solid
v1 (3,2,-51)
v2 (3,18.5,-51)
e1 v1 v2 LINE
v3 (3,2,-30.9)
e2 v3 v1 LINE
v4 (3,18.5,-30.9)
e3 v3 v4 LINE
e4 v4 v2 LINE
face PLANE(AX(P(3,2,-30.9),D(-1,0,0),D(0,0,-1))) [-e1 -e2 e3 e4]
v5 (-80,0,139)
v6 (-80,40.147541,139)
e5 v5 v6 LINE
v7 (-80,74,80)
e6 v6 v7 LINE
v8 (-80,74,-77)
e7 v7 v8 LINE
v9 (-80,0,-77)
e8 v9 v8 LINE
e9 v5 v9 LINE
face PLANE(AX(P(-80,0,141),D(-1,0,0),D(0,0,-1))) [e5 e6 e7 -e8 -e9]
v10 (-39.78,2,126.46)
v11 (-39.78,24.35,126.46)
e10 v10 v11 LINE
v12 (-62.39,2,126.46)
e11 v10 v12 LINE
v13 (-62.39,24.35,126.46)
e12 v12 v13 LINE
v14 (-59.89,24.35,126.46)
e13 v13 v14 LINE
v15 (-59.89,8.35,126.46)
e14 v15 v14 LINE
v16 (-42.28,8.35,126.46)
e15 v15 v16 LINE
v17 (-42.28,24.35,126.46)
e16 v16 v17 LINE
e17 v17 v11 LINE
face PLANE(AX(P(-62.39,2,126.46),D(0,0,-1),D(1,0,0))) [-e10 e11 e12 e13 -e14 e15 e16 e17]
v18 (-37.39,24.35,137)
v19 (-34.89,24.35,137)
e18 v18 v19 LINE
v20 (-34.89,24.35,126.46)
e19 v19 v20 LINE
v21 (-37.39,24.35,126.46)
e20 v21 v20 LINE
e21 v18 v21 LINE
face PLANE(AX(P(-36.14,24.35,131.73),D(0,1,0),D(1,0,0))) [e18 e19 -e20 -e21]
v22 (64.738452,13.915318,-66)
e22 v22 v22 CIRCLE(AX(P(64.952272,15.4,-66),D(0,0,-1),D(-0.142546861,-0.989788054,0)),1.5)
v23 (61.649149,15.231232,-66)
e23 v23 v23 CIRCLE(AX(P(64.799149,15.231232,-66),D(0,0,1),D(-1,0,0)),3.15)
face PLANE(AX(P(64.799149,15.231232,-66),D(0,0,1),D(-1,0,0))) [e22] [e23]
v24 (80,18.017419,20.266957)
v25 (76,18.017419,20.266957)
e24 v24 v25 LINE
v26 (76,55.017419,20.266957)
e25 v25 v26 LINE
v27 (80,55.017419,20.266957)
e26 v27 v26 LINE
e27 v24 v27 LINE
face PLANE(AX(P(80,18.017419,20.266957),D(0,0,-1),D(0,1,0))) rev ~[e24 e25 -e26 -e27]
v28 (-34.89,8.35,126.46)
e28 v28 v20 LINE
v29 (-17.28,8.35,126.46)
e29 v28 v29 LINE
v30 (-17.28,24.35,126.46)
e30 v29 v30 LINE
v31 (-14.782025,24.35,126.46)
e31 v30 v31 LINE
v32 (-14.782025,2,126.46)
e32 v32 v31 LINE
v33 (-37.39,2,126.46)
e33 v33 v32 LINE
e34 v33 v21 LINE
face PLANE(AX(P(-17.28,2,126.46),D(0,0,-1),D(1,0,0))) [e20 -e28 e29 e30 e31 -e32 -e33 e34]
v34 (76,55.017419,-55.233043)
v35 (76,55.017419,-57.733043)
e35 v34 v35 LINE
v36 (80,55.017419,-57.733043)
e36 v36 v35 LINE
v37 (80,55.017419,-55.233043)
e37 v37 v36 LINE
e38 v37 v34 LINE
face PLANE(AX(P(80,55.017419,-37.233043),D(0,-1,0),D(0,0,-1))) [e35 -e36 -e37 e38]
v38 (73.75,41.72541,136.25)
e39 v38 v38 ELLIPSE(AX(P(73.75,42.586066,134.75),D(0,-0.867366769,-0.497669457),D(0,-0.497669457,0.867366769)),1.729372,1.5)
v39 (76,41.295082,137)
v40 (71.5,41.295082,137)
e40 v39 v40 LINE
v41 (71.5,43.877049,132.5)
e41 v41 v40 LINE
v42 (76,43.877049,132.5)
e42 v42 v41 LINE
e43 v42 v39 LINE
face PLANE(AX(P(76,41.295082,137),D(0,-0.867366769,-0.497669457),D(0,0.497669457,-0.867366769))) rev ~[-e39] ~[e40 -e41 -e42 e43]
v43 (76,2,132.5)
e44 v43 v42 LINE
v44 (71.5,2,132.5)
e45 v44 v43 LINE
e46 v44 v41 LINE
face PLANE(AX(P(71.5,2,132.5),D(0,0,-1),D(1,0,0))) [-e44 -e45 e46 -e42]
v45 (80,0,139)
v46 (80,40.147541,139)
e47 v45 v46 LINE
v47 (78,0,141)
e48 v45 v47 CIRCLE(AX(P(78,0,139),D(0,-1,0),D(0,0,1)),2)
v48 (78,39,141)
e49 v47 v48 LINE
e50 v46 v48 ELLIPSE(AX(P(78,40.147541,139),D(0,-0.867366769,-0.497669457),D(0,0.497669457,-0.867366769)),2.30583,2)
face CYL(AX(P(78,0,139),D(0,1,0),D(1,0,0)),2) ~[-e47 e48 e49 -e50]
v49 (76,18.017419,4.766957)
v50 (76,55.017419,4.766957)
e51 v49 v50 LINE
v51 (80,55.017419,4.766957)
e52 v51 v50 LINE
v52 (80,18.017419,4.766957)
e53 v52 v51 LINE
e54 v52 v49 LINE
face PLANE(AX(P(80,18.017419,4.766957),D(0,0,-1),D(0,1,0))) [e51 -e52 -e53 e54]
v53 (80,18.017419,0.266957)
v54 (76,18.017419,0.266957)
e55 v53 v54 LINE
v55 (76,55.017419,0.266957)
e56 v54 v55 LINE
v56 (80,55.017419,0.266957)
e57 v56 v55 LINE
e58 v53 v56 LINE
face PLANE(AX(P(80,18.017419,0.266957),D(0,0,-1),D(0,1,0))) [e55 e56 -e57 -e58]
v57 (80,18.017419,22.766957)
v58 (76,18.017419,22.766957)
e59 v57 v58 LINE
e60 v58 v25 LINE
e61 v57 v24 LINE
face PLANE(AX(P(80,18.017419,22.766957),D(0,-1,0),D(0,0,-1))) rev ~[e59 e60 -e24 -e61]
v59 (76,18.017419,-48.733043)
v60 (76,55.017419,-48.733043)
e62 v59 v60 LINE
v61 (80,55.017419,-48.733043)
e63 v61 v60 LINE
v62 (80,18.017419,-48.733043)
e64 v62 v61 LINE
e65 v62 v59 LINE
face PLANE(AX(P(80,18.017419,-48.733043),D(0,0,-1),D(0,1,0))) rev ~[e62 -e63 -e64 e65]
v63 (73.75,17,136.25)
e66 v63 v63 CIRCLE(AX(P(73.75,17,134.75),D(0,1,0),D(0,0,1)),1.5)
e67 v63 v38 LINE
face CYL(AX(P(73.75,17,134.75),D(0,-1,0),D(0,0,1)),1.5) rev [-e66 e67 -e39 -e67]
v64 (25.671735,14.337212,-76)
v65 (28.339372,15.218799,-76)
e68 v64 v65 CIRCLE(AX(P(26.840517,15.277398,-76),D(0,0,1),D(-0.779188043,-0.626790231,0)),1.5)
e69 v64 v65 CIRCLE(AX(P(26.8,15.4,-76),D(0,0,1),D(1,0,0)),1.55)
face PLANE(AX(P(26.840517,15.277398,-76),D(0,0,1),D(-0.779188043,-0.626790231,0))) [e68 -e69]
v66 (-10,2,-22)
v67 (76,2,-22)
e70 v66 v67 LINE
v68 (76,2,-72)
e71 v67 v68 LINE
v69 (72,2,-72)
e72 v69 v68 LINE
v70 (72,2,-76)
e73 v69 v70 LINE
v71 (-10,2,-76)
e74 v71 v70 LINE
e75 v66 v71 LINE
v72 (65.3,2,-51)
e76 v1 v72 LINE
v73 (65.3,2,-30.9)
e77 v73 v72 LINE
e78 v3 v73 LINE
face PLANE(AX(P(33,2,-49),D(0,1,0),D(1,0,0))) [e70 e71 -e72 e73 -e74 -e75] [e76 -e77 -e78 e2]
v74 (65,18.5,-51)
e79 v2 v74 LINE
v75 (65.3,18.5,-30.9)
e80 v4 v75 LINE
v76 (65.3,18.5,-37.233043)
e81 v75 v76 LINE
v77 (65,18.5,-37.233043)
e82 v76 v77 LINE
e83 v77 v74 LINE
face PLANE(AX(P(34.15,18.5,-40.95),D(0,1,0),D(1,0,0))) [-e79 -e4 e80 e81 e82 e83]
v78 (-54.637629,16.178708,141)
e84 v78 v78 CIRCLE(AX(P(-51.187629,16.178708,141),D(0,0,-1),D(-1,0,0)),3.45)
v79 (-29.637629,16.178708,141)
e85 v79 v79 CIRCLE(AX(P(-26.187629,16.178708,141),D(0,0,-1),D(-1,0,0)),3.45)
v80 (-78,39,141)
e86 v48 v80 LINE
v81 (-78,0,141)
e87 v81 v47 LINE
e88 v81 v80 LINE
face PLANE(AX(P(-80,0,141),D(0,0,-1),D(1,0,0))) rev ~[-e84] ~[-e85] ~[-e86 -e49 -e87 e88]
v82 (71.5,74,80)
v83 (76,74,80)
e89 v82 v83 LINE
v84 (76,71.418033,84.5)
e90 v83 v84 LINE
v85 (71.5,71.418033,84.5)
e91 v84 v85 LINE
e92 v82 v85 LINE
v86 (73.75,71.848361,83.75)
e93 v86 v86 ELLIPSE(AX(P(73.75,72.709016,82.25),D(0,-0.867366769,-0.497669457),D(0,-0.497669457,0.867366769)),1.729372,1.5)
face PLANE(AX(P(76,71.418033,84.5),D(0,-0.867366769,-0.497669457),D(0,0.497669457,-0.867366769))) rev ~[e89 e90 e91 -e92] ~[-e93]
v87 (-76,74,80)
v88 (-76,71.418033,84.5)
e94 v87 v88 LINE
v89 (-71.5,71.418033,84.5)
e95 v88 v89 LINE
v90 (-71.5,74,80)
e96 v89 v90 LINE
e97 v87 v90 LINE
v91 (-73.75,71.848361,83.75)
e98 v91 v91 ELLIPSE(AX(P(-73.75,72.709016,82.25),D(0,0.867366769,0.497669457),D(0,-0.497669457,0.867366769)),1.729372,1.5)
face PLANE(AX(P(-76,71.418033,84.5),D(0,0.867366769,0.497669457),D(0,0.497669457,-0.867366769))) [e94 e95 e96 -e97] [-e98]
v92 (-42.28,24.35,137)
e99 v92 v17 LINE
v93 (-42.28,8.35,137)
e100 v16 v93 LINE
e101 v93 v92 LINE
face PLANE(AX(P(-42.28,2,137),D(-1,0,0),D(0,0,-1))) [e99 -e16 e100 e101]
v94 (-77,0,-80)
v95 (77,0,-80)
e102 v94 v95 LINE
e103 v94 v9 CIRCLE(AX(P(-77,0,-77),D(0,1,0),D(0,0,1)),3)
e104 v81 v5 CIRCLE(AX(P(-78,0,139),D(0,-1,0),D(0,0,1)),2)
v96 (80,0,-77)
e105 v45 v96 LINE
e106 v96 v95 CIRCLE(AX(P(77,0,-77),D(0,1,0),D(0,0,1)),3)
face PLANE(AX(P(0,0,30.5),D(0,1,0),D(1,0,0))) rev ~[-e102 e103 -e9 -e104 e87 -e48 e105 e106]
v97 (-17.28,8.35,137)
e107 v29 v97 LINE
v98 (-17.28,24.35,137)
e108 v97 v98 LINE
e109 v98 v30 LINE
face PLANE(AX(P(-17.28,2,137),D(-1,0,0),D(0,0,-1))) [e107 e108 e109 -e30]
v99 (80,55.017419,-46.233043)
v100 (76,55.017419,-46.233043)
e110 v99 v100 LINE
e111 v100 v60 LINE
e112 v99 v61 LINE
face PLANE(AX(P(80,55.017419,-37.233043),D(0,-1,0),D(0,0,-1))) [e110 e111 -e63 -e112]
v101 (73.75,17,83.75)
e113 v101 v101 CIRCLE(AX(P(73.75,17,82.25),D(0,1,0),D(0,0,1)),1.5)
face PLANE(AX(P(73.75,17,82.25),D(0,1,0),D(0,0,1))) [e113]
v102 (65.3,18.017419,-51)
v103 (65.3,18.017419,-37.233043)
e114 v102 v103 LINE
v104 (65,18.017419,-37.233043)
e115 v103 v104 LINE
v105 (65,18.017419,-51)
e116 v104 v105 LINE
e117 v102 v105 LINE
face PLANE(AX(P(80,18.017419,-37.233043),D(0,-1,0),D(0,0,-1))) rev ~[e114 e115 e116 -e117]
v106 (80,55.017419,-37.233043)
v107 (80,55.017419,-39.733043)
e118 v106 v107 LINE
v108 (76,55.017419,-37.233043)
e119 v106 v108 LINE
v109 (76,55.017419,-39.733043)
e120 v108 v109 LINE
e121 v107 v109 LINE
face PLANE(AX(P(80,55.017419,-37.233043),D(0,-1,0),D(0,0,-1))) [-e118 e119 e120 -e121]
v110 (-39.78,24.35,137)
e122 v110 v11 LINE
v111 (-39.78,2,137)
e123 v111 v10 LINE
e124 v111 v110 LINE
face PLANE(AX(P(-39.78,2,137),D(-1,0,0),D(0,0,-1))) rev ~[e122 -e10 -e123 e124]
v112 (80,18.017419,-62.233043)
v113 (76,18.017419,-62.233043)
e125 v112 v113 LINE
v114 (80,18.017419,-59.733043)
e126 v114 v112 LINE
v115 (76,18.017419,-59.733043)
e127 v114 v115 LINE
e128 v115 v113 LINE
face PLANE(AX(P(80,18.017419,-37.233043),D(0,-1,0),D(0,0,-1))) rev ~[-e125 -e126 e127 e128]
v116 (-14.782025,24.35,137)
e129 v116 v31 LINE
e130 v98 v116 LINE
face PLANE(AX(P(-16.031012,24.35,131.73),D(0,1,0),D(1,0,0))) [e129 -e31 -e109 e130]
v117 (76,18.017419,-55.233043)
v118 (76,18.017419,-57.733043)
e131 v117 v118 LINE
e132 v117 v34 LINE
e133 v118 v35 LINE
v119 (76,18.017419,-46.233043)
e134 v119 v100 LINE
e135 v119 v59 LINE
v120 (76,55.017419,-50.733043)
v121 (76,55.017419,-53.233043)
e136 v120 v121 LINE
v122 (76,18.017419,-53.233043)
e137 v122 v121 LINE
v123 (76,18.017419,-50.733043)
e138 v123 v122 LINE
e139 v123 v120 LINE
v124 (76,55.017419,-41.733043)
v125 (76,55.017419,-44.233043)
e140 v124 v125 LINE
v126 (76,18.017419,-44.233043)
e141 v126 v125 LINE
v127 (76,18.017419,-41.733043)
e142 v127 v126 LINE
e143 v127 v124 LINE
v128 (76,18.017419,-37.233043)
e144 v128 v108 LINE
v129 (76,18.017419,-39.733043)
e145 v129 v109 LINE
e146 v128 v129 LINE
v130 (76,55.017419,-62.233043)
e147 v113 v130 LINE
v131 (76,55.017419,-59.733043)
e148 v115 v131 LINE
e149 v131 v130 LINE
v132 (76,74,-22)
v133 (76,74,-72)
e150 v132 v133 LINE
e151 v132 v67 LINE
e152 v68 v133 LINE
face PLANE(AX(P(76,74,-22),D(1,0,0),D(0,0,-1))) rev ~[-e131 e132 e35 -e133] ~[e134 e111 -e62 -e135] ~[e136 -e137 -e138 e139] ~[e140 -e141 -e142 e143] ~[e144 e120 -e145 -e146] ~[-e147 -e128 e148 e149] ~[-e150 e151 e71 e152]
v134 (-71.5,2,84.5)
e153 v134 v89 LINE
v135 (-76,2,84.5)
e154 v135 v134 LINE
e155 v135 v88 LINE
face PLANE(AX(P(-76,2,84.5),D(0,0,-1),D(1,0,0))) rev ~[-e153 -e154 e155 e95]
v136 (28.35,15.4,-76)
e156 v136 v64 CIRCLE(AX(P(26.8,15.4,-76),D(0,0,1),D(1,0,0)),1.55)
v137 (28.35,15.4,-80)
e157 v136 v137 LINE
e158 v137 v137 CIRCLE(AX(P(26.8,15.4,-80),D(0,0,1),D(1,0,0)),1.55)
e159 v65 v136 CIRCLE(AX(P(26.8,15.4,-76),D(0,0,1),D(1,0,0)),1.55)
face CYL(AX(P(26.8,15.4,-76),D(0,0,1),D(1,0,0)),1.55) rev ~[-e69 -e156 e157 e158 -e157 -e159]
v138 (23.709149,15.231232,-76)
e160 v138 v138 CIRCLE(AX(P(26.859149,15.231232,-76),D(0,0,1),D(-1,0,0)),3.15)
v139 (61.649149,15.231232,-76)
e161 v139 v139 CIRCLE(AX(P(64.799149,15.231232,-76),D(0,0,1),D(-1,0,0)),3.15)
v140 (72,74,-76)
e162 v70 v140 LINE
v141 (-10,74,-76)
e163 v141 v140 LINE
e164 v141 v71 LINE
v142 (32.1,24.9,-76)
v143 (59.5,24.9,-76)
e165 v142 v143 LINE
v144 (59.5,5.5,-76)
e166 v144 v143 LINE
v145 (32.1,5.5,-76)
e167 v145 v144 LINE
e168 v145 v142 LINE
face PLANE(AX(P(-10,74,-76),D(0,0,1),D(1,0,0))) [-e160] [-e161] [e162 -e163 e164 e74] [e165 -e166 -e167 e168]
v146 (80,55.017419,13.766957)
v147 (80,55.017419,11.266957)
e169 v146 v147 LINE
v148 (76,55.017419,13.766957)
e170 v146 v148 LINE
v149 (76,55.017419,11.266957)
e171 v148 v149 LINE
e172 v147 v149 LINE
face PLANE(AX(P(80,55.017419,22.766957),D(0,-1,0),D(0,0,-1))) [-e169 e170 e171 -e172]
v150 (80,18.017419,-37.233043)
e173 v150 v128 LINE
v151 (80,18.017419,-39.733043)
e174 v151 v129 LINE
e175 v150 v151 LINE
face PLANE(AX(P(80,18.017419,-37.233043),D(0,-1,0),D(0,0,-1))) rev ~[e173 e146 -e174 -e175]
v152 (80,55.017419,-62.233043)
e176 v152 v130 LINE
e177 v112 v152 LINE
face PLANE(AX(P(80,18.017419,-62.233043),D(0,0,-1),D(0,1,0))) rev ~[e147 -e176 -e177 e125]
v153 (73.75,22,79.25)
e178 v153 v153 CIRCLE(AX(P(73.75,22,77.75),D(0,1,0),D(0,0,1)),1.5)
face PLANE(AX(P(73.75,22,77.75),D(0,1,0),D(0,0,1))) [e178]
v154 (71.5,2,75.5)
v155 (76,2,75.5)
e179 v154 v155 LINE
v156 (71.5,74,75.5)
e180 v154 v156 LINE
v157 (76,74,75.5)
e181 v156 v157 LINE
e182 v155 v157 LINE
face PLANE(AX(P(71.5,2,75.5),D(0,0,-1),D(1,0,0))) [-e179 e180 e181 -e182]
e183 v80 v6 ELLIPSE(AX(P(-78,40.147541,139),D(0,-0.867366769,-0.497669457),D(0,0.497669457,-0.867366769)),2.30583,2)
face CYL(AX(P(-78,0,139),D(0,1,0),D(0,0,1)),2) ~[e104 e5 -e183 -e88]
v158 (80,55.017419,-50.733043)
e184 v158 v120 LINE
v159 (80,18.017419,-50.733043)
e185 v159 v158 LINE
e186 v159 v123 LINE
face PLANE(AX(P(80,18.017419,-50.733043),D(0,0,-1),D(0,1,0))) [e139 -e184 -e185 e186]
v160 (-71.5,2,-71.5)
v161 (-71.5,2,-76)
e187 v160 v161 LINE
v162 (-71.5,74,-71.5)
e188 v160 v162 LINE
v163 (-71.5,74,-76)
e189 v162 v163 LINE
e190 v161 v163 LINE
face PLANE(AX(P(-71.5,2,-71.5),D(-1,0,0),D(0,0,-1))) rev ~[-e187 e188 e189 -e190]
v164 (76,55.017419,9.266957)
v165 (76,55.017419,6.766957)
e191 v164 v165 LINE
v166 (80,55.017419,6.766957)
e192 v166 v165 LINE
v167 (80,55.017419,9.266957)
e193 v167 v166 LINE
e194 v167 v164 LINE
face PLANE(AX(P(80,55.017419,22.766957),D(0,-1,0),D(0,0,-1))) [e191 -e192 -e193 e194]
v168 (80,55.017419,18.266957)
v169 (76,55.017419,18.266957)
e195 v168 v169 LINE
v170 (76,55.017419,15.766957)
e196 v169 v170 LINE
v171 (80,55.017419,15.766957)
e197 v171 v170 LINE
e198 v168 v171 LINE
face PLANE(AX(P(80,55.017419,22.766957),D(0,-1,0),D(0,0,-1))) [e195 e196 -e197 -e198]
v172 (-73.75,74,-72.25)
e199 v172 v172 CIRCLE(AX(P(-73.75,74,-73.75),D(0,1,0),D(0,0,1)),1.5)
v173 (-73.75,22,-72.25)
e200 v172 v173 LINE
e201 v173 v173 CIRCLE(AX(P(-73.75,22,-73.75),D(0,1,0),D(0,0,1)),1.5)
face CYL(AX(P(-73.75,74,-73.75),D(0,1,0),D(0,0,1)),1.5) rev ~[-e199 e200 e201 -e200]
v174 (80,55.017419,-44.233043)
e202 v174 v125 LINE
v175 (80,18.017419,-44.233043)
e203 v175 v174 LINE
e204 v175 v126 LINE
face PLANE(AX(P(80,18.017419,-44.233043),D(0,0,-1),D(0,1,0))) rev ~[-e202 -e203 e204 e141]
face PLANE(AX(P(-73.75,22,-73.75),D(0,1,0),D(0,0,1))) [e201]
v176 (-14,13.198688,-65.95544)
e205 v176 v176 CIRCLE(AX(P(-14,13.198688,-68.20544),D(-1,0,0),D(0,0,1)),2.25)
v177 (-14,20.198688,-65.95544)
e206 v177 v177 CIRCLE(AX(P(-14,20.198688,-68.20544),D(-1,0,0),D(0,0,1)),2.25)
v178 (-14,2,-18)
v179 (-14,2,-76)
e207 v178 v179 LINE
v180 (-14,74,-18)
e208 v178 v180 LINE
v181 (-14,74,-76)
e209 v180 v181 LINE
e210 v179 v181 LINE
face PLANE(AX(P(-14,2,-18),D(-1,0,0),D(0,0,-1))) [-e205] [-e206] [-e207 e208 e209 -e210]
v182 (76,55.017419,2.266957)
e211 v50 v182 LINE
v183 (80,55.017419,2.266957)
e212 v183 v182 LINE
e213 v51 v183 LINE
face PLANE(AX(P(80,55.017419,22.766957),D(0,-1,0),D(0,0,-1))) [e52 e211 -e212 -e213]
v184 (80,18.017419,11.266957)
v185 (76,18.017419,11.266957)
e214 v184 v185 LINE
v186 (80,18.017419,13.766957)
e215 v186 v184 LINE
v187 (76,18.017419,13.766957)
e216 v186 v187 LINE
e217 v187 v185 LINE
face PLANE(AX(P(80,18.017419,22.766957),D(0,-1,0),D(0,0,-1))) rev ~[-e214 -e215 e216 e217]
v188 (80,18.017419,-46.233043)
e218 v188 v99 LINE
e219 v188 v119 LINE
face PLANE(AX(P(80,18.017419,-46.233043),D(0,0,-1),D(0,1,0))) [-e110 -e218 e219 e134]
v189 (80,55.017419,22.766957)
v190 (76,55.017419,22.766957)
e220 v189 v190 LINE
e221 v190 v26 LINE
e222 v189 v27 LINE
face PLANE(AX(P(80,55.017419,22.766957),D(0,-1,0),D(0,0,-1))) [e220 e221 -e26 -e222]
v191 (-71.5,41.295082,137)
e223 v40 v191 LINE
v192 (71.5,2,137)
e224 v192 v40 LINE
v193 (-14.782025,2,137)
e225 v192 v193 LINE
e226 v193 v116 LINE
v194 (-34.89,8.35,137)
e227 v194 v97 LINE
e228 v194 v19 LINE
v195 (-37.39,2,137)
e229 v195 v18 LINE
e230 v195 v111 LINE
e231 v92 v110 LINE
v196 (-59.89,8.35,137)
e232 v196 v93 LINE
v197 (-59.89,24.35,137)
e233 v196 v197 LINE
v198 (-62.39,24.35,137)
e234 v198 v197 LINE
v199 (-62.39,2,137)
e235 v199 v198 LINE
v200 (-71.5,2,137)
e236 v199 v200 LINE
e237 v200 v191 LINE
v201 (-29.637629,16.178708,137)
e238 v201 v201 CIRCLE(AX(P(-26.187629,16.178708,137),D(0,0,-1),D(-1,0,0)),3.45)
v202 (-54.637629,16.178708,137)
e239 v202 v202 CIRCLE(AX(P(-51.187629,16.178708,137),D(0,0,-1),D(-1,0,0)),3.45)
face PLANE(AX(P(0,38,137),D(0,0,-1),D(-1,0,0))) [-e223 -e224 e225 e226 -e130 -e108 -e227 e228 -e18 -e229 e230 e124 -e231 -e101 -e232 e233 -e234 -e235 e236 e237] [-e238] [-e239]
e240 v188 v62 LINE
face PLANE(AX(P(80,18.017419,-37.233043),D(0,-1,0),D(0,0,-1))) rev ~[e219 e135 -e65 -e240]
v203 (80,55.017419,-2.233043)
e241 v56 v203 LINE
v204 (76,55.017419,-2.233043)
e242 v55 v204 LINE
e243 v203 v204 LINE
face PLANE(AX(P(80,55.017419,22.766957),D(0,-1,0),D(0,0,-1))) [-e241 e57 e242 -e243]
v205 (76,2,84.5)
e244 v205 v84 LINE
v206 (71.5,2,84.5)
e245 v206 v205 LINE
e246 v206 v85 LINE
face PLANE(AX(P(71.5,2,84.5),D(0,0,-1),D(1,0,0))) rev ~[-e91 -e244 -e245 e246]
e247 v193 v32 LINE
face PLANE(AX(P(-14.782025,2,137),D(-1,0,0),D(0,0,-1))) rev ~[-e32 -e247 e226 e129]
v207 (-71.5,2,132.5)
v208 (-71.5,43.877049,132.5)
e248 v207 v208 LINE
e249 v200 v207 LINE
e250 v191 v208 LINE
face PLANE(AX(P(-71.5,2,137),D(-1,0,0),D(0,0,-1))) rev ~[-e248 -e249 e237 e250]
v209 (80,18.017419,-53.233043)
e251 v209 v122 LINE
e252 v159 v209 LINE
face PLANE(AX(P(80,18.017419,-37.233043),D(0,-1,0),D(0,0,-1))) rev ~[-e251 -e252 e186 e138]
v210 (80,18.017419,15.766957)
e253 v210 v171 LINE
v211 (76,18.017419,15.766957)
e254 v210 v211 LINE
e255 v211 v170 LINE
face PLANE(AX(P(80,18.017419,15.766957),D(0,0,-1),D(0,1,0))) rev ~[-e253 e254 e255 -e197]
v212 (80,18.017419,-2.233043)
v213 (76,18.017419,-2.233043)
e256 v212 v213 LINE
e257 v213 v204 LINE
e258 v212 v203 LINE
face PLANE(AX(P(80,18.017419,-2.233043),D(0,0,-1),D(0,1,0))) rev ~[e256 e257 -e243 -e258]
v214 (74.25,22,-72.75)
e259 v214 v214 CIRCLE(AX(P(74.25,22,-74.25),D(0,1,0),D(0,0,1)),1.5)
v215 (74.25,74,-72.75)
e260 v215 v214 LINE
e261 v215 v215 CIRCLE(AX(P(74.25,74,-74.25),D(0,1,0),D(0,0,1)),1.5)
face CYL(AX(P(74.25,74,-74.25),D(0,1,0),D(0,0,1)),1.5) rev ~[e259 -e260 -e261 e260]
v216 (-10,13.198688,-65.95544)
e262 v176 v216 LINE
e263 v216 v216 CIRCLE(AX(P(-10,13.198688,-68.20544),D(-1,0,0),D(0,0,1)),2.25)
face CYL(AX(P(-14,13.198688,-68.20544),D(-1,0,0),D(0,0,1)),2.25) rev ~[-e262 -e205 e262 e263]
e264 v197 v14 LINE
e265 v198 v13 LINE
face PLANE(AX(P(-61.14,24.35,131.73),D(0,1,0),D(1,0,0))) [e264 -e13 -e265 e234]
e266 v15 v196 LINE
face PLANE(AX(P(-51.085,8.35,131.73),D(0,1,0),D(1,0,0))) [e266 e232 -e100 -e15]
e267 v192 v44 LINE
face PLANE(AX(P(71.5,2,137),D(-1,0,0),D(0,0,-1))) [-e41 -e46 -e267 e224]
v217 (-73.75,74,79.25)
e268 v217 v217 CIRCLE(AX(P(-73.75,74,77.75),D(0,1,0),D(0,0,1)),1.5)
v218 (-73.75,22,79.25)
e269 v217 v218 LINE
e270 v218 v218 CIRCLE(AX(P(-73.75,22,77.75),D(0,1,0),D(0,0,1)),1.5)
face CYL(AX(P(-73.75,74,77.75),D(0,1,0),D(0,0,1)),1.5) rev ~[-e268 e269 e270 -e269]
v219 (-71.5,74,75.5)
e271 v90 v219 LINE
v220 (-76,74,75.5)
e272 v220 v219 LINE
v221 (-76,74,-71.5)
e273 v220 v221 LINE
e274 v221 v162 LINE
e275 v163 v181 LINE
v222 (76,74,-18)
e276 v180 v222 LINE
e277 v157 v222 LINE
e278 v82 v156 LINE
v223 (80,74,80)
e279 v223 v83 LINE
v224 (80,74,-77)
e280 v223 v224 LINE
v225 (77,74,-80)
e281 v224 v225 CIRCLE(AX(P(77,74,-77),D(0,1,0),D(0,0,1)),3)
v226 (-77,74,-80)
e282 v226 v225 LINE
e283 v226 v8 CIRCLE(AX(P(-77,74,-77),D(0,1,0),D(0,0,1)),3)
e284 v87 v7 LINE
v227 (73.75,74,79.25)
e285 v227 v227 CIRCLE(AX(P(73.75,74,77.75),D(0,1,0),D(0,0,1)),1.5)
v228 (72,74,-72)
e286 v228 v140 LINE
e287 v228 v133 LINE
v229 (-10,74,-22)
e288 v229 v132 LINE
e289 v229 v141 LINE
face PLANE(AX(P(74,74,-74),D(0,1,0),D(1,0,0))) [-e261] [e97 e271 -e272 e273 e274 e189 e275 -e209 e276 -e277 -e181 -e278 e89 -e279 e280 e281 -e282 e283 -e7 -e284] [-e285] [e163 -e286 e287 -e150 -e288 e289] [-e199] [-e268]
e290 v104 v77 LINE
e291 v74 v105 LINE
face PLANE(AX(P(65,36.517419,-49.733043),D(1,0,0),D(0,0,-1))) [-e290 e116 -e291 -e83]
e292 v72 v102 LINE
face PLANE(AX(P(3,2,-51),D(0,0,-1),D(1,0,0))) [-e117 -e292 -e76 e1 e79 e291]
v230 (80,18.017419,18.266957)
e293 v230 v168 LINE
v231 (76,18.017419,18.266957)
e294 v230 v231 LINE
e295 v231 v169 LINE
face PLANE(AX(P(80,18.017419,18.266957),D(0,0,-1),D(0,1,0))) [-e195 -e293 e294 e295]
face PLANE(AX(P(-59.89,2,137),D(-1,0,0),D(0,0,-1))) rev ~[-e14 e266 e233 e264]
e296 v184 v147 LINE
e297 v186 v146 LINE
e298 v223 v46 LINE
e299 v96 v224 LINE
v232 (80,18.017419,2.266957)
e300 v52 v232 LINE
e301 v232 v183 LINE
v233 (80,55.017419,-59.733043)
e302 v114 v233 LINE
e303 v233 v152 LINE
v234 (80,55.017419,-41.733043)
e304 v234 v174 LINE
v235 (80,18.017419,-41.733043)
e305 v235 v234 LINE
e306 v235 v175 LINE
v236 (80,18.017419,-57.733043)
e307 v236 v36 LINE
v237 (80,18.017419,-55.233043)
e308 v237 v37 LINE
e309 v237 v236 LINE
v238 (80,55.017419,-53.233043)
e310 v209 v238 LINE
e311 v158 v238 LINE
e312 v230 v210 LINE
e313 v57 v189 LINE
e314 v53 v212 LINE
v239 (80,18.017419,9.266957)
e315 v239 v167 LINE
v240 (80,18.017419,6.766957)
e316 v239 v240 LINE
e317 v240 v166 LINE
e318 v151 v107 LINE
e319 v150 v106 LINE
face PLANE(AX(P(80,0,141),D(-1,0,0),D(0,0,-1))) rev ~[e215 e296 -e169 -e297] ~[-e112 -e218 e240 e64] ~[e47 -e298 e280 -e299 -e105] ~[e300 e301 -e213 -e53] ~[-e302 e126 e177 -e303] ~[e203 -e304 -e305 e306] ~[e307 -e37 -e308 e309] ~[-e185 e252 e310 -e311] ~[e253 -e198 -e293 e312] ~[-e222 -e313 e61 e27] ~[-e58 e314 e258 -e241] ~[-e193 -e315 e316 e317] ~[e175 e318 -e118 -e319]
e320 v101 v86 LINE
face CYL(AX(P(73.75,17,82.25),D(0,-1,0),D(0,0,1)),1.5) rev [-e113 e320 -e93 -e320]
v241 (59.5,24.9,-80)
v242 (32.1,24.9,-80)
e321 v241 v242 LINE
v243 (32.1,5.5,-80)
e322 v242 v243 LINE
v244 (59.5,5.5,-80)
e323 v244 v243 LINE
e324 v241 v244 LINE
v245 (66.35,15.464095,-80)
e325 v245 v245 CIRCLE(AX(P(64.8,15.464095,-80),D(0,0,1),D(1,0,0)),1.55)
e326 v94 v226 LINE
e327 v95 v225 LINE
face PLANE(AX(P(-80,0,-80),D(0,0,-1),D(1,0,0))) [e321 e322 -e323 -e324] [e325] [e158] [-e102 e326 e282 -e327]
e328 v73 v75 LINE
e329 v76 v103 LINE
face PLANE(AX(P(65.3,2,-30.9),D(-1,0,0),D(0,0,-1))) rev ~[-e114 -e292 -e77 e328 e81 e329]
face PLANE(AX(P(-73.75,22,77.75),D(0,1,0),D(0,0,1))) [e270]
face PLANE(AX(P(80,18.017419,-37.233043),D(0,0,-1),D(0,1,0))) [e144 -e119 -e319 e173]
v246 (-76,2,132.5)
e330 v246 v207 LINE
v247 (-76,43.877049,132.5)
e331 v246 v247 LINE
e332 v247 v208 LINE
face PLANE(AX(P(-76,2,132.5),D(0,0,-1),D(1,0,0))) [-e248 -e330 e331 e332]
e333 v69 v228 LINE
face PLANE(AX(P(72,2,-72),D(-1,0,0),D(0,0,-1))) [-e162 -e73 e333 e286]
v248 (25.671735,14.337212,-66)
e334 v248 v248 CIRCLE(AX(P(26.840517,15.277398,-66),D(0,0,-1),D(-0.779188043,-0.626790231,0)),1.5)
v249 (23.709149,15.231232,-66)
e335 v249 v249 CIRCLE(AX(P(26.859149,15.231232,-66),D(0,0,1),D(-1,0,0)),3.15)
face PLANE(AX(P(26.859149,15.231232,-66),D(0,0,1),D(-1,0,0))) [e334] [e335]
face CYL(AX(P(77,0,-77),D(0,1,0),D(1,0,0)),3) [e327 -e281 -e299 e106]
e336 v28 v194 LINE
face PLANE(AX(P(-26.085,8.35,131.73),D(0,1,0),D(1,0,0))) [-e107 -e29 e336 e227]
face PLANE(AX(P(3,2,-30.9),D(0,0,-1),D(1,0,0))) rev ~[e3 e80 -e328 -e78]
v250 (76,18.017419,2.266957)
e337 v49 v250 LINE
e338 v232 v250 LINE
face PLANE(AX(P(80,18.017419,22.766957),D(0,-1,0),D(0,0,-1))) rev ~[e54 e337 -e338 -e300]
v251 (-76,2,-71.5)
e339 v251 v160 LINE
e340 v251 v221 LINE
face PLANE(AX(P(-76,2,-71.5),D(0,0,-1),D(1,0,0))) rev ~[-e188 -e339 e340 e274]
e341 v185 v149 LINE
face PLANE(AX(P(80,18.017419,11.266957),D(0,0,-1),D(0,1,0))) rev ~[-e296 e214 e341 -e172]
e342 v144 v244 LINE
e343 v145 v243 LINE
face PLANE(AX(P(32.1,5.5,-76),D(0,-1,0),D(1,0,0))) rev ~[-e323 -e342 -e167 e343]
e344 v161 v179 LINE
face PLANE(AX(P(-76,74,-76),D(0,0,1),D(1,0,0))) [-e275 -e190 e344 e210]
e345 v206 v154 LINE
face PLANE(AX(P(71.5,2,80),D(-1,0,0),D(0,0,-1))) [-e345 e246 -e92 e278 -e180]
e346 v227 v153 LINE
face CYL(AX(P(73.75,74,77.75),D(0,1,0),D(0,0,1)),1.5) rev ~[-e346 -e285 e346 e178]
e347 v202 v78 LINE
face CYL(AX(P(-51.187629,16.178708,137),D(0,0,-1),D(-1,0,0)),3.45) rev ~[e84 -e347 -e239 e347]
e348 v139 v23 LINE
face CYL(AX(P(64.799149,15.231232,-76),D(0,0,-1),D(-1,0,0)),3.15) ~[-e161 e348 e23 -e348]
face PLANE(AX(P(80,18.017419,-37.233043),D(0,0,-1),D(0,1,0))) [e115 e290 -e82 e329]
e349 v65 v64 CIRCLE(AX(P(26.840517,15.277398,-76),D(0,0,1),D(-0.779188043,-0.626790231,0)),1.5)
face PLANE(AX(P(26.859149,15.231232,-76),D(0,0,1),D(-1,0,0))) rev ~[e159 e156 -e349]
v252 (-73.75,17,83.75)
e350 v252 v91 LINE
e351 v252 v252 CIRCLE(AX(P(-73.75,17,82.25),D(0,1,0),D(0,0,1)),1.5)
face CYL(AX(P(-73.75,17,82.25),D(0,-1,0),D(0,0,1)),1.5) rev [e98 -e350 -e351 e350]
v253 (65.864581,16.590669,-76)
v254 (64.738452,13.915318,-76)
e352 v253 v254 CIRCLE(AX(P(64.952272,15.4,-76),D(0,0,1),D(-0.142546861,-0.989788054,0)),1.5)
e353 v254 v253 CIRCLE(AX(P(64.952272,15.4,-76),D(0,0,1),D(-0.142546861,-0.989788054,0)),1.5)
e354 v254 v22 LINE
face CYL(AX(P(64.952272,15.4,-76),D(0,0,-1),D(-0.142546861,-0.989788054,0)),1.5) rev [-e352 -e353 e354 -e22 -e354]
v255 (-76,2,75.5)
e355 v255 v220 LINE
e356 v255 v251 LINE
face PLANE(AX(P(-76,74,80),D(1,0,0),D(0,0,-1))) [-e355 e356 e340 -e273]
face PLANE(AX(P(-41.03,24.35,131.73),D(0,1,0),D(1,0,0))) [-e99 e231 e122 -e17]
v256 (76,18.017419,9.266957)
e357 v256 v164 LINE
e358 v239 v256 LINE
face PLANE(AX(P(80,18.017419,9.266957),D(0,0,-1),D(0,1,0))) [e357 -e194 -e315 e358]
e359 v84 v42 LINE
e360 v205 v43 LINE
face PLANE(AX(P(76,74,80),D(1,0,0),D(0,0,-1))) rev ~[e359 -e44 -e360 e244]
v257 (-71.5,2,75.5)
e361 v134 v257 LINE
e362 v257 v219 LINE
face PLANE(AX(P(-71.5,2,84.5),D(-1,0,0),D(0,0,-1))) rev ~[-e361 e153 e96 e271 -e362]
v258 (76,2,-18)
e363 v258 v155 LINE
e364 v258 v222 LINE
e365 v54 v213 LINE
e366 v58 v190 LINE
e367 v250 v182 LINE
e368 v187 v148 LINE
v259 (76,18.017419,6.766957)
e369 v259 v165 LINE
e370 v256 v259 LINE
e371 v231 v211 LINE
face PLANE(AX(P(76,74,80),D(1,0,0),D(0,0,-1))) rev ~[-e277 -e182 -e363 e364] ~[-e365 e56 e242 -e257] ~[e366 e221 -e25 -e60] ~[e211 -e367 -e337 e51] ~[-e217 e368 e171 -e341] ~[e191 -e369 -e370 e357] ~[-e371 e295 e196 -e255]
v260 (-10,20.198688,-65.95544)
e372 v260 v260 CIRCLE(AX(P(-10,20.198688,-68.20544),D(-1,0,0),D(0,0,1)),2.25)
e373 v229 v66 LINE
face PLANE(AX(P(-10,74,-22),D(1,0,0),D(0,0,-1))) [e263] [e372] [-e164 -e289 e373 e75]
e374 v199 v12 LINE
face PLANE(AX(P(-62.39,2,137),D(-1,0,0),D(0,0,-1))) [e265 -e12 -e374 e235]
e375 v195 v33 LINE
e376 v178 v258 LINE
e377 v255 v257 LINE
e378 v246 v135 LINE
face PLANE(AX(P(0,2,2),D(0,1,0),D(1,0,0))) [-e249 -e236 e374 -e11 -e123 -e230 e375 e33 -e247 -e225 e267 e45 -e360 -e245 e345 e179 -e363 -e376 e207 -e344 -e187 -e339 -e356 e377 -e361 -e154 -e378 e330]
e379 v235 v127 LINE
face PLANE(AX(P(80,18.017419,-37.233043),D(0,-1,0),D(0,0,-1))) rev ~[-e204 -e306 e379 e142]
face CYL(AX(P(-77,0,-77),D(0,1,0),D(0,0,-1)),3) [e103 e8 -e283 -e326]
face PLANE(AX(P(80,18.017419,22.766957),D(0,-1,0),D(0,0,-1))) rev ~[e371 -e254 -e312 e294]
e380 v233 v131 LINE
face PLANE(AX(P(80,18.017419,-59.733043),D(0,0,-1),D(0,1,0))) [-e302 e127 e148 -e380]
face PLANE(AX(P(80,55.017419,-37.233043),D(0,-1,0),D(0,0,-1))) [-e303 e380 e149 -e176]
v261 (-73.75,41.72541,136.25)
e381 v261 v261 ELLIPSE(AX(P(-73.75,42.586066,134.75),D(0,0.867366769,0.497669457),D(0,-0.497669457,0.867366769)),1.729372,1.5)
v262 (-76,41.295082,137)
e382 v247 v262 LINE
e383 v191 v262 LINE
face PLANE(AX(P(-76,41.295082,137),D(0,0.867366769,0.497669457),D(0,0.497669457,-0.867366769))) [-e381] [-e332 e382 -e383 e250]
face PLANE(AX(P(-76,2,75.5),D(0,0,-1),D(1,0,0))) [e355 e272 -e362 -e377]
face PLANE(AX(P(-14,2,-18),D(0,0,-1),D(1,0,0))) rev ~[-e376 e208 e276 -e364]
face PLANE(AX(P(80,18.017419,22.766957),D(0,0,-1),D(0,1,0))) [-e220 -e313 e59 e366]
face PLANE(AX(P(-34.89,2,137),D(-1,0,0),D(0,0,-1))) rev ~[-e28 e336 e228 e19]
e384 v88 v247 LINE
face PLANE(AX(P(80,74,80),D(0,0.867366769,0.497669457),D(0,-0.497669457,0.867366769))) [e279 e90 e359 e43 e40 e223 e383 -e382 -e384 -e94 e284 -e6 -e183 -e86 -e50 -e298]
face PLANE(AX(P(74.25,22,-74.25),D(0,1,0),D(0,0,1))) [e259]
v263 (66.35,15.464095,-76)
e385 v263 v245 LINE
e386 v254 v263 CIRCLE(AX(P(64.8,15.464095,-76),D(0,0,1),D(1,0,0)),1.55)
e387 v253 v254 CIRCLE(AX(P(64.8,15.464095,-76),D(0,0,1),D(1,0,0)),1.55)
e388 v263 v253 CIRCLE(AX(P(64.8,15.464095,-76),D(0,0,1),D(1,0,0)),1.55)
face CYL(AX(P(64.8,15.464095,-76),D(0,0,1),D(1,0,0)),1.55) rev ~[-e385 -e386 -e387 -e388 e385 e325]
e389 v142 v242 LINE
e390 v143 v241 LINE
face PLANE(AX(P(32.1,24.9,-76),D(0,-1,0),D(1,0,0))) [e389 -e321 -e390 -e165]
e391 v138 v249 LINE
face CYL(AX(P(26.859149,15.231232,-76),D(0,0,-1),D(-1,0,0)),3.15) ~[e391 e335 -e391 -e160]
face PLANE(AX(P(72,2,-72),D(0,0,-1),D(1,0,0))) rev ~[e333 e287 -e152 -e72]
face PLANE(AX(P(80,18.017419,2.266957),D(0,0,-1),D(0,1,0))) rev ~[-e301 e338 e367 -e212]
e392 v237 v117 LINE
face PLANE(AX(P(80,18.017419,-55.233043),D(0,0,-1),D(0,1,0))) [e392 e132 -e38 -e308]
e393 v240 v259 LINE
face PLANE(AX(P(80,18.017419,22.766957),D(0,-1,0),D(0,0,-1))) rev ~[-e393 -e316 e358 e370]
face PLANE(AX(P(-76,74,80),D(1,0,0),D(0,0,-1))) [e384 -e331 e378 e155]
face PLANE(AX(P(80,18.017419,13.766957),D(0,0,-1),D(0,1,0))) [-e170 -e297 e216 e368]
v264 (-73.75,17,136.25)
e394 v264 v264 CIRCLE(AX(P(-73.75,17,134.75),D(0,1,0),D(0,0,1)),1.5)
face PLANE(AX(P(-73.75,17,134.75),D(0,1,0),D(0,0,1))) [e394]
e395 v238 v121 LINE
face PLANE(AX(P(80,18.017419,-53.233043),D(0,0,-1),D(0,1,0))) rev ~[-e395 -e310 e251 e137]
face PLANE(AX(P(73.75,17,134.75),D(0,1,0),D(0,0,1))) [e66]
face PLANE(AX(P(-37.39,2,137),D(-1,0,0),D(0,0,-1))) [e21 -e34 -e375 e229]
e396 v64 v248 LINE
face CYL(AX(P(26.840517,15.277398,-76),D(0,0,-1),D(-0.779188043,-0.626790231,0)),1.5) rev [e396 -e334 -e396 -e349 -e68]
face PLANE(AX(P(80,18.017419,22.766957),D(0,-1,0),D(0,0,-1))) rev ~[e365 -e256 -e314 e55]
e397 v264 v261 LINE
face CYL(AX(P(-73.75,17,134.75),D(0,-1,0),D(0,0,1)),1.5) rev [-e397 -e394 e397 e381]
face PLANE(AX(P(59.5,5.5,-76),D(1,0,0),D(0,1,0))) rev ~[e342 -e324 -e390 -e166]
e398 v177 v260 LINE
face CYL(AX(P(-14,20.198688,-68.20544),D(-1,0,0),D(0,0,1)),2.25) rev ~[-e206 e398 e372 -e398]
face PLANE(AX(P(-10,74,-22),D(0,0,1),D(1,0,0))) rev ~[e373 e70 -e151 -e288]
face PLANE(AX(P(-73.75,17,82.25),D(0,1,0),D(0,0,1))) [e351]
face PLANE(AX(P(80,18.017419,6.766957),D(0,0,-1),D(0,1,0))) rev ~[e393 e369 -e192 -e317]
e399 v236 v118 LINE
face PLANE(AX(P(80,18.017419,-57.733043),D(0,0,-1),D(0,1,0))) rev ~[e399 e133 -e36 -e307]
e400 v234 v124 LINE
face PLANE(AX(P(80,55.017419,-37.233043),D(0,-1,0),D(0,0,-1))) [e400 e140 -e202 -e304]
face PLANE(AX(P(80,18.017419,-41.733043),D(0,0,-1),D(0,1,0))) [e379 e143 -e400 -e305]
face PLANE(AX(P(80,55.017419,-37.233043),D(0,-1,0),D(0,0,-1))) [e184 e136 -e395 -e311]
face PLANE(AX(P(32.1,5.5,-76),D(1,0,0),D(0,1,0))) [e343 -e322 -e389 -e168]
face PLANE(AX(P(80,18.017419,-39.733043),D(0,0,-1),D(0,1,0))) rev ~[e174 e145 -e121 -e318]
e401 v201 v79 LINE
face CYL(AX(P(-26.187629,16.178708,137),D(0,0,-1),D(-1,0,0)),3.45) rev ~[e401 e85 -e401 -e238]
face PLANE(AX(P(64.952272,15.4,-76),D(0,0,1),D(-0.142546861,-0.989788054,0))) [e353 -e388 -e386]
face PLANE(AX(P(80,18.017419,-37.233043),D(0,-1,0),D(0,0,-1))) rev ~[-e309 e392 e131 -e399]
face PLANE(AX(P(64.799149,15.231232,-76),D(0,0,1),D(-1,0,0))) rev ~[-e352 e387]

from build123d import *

# Parameters (mm, degrees)
SKETCH1_W            = 160
SKETCH1_H            = 221
BOSS_EXTRUDE2_DEPTH  = 74
CUT_EXTRUDE2_DEPTH   = 164
SKETCH8_W            = 152
SKETCH8_H            = 156
CUT_EXTRUDE3_DEPTH   = 72
SKETCH10_W           = 152
SKETCH10_H           = 72
CUT_EXTRUDE4_DEPTH   = 57
SKETCH12_W           = 4.5
SKETCH12_H           = 4.5
BOSS_EXTRUDE3_DEPTH  = 72
SKETCH13_W           = 4.5
SKETCH13_H           = 4.5
BOSS_EXTRUDE4_DEPTH  = 80
CUT_EXTRUDE5_DEPTH   = 80
CUT_EXTRUDE6_DEPTH   = 80
SKETCH18_W           = 90
SKETCH18_H           = 58
BOSS_EXTRUDE6_DEPTH  = 72
SKETCH21_W           = 86
SKETCH21_H           = 54
CUT_EXTRUDE7_DEPTH   = 72
SKETCH22_W           = 4
SKETCH22_H           = 4
BOSS_EXTRUDE7_DEPTH  = 72
SKETCH24_R           = 2.25
CUT_EXTRUDE8_DEPTH   = 5.9
SKETCH25_W           = 62.3
SKETCH25_H           = 20.1
BOSS_EXTRUDE8_DEPTH  = 16.5
FILLET1_R            = 3
FILLET2_R            = 3
FILLET3_R            = 2
FILLET4_R            = 2
SKETCH28_W           = 19.81
SKETCH28_H           = 10.54
BOSS_EXTRUDE10_DEPTH = 6.35
SKETCH29_W           = 2.5
SKETCH29_H           = 10.54
SKETCH29_W_2         = 2.4979753
BOSS_EXTRUDE11_DEPTH = 22.35
SKETCH33_R           = 3.45
CUT_EXTRUDE11_DEPTH  = 22.35
SKETCH34_R           = 1.55
SKETCH34_W           = 27.4
SKETCH34_H           = 19.4
CUT_EXTRUDE12_DEPTH  = 10
SKETCH44_R           = 1.5
CUT_EXTRUDE13_DEPTH  = 52
SKETCH47_R           = 1.5
CUT_EXTRUDE15_DEPTH  = 52
SKETCH48_R           = 1.5
CUT_EXTRUDE16_DEPTH  = 52
CUT_EXTRUDE19_START  = 15
SKETCH52_R           = 1.5
CUT_EXTRUDE19_DEPTH  = 69
SKETCH54_R           = 1.5
CUT_EXTRUDE20_DEPTH  = 52
SKETCH65_R           = 3.15
BOSS_EXTRUDE16_DEPTH = 10
SKETCH66_R           = 1.5
CUT_EXTRUDE24_DEPTH  = 15
SKETCH67_R           = 1.5
CUT_EXTRUDE25_DEPTH  = 15
SKETCH68_W           = 25
SKETCH68_H           = 37
CUT_EXTRUDE26_DEPTH  = 15
SKETCH69_W           = 2
SKETCH69_H           = 37
BOSS_EXTRUDE18_DEPTH = 4


with BuildPart() as part:
    # Sketch1 → Boss-Extrude2 (new body)
    with BuildSketch(Plane(origin=(0, 0, 0), x_dir=(1, 0, 0), z_dir=(0, 1, 0))):
        with Locations((0, -30.5)):
            Rectangle(SKETCH1_W, SKETCH1_H)
    extrude(amount=BOSS_EXTRUDE2_DEPTH)

    # Sketch7 → Cut-Extrude2 (cut)
    with BuildSketch(Plane(origin=(80, 0, 0), x_dir=(0, 0, -1), z_dir=(1, 0, 0))):
        Polygon((-141, 74), (-80, 74), (-141, 39), align=None)
    extrude(amount=-CUT_EXTRUDE2_DEPTH, mode=Mode.SUBTRACT)

    # Sketch8 → Cut-Extrude3 (cut)
    with BuildSketch(Plane(origin=(0, 74, 0), x_dir=(1, 0, 0), z_dir=(0, 1, 0))):
        with Locations((0, -2)):
            Rectangle(SKETCH8_W, SKETCH8_H)
    extrude(amount=-CUT_EXTRUDE3_DEPTH, mode=Mode.SUBTRACT)

    # Sketch10 → Cut-Extrude4 (cut)
    with BuildSketch(Plane(origin=(0, 0, 80), x_dir=(-1, 0, 0), z_dir=(0, 0, -1))):
        with Locations((0, 38)):
            Rectangle(SKETCH10_W, SKETCH10_H)
    extrude(amount=-CUT_EXTRUDE4_DEPTH, mode=Mode.SUBTRACT)

    # Sketch12 → Boss-Extrude3 (add)
    with BuildSketch(Plane(origin=(0, 2, 0), x_dir=(1, 0, 0), z_dir=(0, 1, 0))):
        with Locations((-73.75, 73.75)):
            Rectangle(SKETCH12_W, SKETCH12_H)
        with Locations((73.75, 73.75)):
            Rectangle(SKETCH12_W, SKETCH12_H)
        with Locations((-73.75, -77.75)):
            Rectangle(SKETCH12_W, SKETCH12_H)
        with Locations((73.75, -77.75)):
            Rectangle(SKETCH12_W, SKETCH12_H)
    extrude(amount=BOSS_EXTRUDE3_DEPTH)

    # Sketch13 → Boss-Extrude4 (add)
    with BuildSketch(Plane(origin=(0, 2, 0), x_dir=(1, 0, 0), z_dir=(0, 1, 0))):
        with Locations((-73.75, -82.25)):
            Rectangle(SKETCH13_W, SKETCH13_H)
        with Locations((-73.75, -134.75)):
            Rectangle(SKETCH13_W, SKETCH13_H)
        with Locations((73.75, -82.25)):
            Rectangle(SKETCH13_W, SKETCH13_H)
        with Locations((73.75, -134.75)):
            Rectangle(SKETCH13_W, SKETCH13_H)
    extrude(amount=BOSS_EXTRUDE4_DEPTH)

    # Sketch14 → Cut-Extrude5 (cut)
    with BuildSketch(Plane.ZY.offset(76)):
        Polygon((80, 82), (84.5, 82), (84.5, 71.418032787), (80, 74), align=None)
        Polygon((137, 41.295081967), (132.5, 43.87704918), (132.5, 82), (137, 82), align=None)
    extrude(amount=-CUT_EXTRUDE5_DEPTH, mode=Mode.SUBTRACT)

    # Sketch15 → Cut-Extrude6 (cut)
    with BuildSketch(Plane(origin=(76, 0, 0), x_dir=(0, 0, -1), z_dir=(1, 0, 0))):
        Polygon((-137, 41.295081967), (-132.5, 43.87704918), (-132.5, 82), (-137, 82), align=None)
        Polygon((-84.5, 71.418032787), (-80, 74), (-80, 82), (-84.5, 82), align=None)
    extrude(amount=-CUT_EXTRUDE6_DEPTH, mode=Mode.SUBTRACT)

    # Sketch18 → Boss-Extrude6 (add)
    with BuildSketch(Plane(origin=(0, 2, 0), x_dir=(1, 0, 0), z_dir=(0, 1, 0))):
        with Locations((31, 47)):
            Rectangle(SKETCH18_W, SKETCH18_H)
    extrude(amount=BOSS_EXTRUDE6_DEPTH)

    # Sketch21 → Cut-Extrude7 (cut)
    with BuildSketch(Plane(origin=(0, 74, 0), x_dir=(1, 0, 0), z_dir=(0, 1, 0))):
        with Locations((33, 49)):
            Rectangle(SKETCH21_W, SKETCH21_H)
    extrude(amount=-CUT_EXTRUDE7_DEPTH, mode=Mode.SUBTRACT)

    # Sketch22 → Boss-Extrude7 (add)
    with BuildSketch(Plane(origin=(0, 2, 0), x_dir=(1, 0, 0), z_dir=(0, 1, 0))):
        with Locations((74, 74)):
            Rectangle(SKETCH22_W, SKETCH22_H)
    extrude(amount=BOSS_EXTRUDE7_DEPTH)

    # Sketch24 → Cut-Extrude8 (cut)
    with BuildSketch(Plane.ZY.offset(14)):
        with Locations((-68.205440171, 13.198688186)):
            Circle(SKETCH24_R)
        with Locations((-68.205440171, 20.198688186)):
            Circle(SKETCH24_R)
    extrude(amount=-CUT_EXTRUDE8_DEPTH, mode=Mode.SUBTRACT)

    # Sketch25 → Boss-Extrude8 (add)
    with BuildSketch(Plane(origin=(0, 2, 0), x_dir=(1, 0, 0), z_dir=(0, 1, 0))):
        with Locations((34.15, 40.95)):
            Rectangle(SKETCH25_W, SKETCH25_H)
    extrude(amount=BOSS_EXTRUDE8_DEPTH)

    # Fillet1
    fillet1_edges = [part.edges().sort_by_distance(p)[0] for p in [
        (80, 37, -80),
    ]]
    fillet(fillet1_edges, radius=FILLET1_R)

    # Fillet2
    fillet2_edges = [part.edges().sort_by_distance(p)[0] for p in [
        (-80, 37, -80),
    ]]
    fillet(fillet2_edges, radius=FILLET2_R)

    # Fillet3
    fillet3_edges = [part.edges().sort_by_distance(p)[0] for p in [
        (80, 19.5, 141),
    ]]
    fillet(fillet3_edges, radius=FILLET3_R)

    # Fillet4
    fillet4_edges = [part.edges().sort_by_distance(p)[0] for p in [
        (-80, 19.5, 141),
    ]]
    fillet(fillet4_edges, radius=FILLET4_R)

    # Sketch28 → Boss-Extrude10 (add)
    with BuildSketch(Plane(origin=(0, 2, 0), x_dir=(1, 0, 0), z_dir=(0, 1, 0))):
        with Locations((-51.085, -131.73)):
            Rectangle(SKETCH28_W, SKETCH28_H)
        with Locations((-26.085, -131.73)):
            Rectangle(SKETCH28_W, SKETCH28_H)
    extrude(amount=BOSS_EXTRUDE10_DEPTH)

    # Sketch29 → Boss-Extrude11 (add)
    with BuildSketch(Plane(origin=(0, 2, 0), x_dir=(1, 0, 0), z_dir=(0, 1, 0))):
        with Locations((-61.14, -131.73)):
            Rectangle(SKETCH29_W, SKETCH29_H)
        with Locations((-41.03, -131.73)):
            Rectangle(SKETCH29_W, SKETCH29_H)
        with Locations((-36.14, -131.73)):
            Rectangle(SKETCH29_W, SKETCH29_H)
        with Locations((-16.03101235, -131.73)):
            Rectangle(SKETCH29_W_2, SKETCH29_H)
    extrude(amount=BOSS_EXTRUDE11_DEPTH)

    # Sketch33 → Cut-Extrude11 (cut)
    with BuildSketch(Plane(origin=(0, 0, 137), x_dir=(-1, 0, 0), z_dir=(0, 0, -1))):
        with Locations((51.187629476, 16.178708102)):
            Circle(SKETCH33_R)
        with Locations((26.187629476, 16.178708102)):
            Circle(SKETCH33_R)
    extrude(amount=-CUT_EXTRUDE11_DEPTH, mode=Mode.SUBTRACT)

    # Sketch34 → Cut-Extrude12 (cut)
    with BuildSketch(Plane.XY.offset(-76)):
        with Locations((64.8, 15.464095432)):
            Circle(SKETCH34_R)
        with Locations((26.8, 15.4)):
            Circle(SKETCH34_R)
        with Locations((45.8, 15.2)):
            Rectangle(SKETCH34_W, SKETCH34_H)
    extrude(amount=-CUT_EXTRUDE12_DEPTH, mode=Mode.SUBTRACT)

    # Sketch44 → Cut-Extrude13 (cut)
    with BuildSketch(Plane(origin=(0, 74, 0), x_dir=(1, 0, 0), z_dir=(0, 1, 0))):
        with Locations(Location((-73.75, 73.75, 0), (0, 0, 270))):
            Circle(SKETCH44_R)
    extrude(amount=-CUT_EXTRUDE13_DEPTH, mode=Mode.SUBTRACT)

    # Sketch47 → Cut-Extrude15 (cut)
    with BuildSketch(Plane(origin=(0, 74, 0), x_dir=(1, 0, 0), z_dir=(0, 1, 0))):
        with Locations(Location((74.25, 74.25, 0), (0, 0, 270))):
            Circle(SKETCH47_R)
    extrude(amount=-CUT_EXTRUDE15_DEPTH, mode=Mode.SUBTRACT)

    # Sketch48 → Cut-Extrude16 (cut)
    with BuildSketch(Plane(origin=(0, 74, 0), x_dir=(1, 0, 0), z_dir=(0, 1, 0))):
        with Locations(Location((73.75, -77.75, 0), (0, 0, 270))):
            Circle(SKETCH48_R)
    extrude(amount=-CUT_EXTRUDE16_DEPTH, mode=Mode.SUBTRACT)

    # Sketch52 → Cut-Extrude19 (cut)
    with BuildSketch(Plane(origin=(0, 2, 0), x_dir=(1, 0, 0), z_dir=(0, 1, 0)).offset(CUT_EXTRUDE19_START)):
        with Locations(Location((73.75, -82.25, 0), (0, 0, 270))):
            Circle(SKETCH52_R)
        with Locations(Location((-73.75, -82.25, 0), (0, 0, 270))):
            Circle(SKETCH52_R)
        with Locations(Location((-73.75, -134.75, 0), (0, 0, 270))):
            Circle(SKETCH52_R)
        with Locations(Location((73.75, -134.75, 0), (0, 0, 270))):
            Circle(SKETCH52_R)
    extrude(amount=CUT_EXTRUDE19_DEPTH, mode=Mode.SUBTRACT)

    # Sketch54 → Cut-Extrude20 (cut)
    with BuildSketch(Plane(origin=(0, 74, 0), x_dir=(1, 0, 0), z_dir=(0, 1, 0))):
        with Locations(Location((-73.75, -77.75, 0), (0, 0, 270))):
            Circle(SKETCH54_R)
    extrude(amount=-CUT_EXTRUDE20_DEPTH, mode=Mode.SUBTRACT)

    # Sketch65 → Boss-Extrude16 (add)
    with BuildSketch(Plane.XY.offset(-76)):
        with Locations(Location((26.859149397, 15.23123202, 0), (0, 0, 180))):
            Circle(SKETCH65_R)
        with Locations(Location((64.799149397, 15.23123202, 0), (0, 0, 180))):
            Circle(SKETCH65_R)
    extrude(amount=BOSS_EXTRUDE16_DEPTH)

    # Sketch66 → Cut-Extrude24 (cut)
    with BuildSketch(Plane.XY.offset(-76)):
        with Locations(Location((26.840517017, 15.277397511, 0), (0, 0, 218.813706581))):
            Circle(SKETCH66_R)
    extrude(amount=CUT_EXTRUDE24_DEPTH, mode=Mode.SUBTRACT)

    # Sketch67 → Cut-Extrude25 (cut)
    with BuildSketch(Plane.XY.offset(-76)):
        with Locations(Location((64.952271836, 15.4, 0), (0, 0, 261.804750978))):
            Circle(SKETCH67_R)
    extrude(amount=CUT_EXTRUDE25_DEPTH, mode=Mode.SUBTRACT)

    # Sketch68 → Cut-Extrude26 (cut)
    with BuildSketch(Plane(origin=(80, 0, 0), x_dir=(0, 0, -1), z_dir=(1, 0, 0))):
        with Locations((-10.266957333, 36.517419115)):
            Rectangle(SKETCH68_W, SKETCH68_H)
        with Locations((49.733042667, 36.517419115)):
            Rectangle(SKETCH68_W, SKETCH68_H)
    extrude(amount=-CUT_EXTRUDE26_DEPTH, mode=Mode.SUBTRACT)

    # Sketch69 → Boss-Extrude18 (add)
    with BuildSketch(Plane(origin=(80, 0, 0), x_dir=(0, 0, -1), z_dir=(1, 0, 0))):
        with Locations((40.733042667, 36.517419115)):
            Rectangle(SKETCH69_W, SKETCH69_H)
        with Locations((45.233042667, 36.517419115)):
            Rectangle(SKETCH69_W, SKETCH69_H)
        with Locations((49.733042667, 36.517419115)):
            Rectangle(SKETCH69_W, SKETCH69_H)
        with Locations((54.233042667, 36.517419115)):
            Rectangle(SKETCH69_W, SKETCH69_H)
        with Locations((58.733042667, 36.517419115)):
            Rectangle(SKETCH69_W, SKETCH69_H)
        with Locations((-19.266957333, 36.517419115)):
            Rectangle(SKETCH69_W, SKETCH69_H)
        with Locations((-14.766957333, 36.517419115)):
            Rectangle(SKETCH69_W, SKETCH69_H)
        with Locations((-10.266957333, 36.517419115)):
            Rectangle(SKETCH69_W, SKETCH69_H)
        with Locations((-5.766957333, 36.517419115)):
            Rectangle(SKETCH69_W, SKETCH69_H)
        with Locations((-1.266957333, 36.517419115)):
            Rectangle(SKETCH69_W, SKETCH69_H)
    extrude(amount=-BOSS_EXTRUDE18_DEPTH)


solid = part.part
